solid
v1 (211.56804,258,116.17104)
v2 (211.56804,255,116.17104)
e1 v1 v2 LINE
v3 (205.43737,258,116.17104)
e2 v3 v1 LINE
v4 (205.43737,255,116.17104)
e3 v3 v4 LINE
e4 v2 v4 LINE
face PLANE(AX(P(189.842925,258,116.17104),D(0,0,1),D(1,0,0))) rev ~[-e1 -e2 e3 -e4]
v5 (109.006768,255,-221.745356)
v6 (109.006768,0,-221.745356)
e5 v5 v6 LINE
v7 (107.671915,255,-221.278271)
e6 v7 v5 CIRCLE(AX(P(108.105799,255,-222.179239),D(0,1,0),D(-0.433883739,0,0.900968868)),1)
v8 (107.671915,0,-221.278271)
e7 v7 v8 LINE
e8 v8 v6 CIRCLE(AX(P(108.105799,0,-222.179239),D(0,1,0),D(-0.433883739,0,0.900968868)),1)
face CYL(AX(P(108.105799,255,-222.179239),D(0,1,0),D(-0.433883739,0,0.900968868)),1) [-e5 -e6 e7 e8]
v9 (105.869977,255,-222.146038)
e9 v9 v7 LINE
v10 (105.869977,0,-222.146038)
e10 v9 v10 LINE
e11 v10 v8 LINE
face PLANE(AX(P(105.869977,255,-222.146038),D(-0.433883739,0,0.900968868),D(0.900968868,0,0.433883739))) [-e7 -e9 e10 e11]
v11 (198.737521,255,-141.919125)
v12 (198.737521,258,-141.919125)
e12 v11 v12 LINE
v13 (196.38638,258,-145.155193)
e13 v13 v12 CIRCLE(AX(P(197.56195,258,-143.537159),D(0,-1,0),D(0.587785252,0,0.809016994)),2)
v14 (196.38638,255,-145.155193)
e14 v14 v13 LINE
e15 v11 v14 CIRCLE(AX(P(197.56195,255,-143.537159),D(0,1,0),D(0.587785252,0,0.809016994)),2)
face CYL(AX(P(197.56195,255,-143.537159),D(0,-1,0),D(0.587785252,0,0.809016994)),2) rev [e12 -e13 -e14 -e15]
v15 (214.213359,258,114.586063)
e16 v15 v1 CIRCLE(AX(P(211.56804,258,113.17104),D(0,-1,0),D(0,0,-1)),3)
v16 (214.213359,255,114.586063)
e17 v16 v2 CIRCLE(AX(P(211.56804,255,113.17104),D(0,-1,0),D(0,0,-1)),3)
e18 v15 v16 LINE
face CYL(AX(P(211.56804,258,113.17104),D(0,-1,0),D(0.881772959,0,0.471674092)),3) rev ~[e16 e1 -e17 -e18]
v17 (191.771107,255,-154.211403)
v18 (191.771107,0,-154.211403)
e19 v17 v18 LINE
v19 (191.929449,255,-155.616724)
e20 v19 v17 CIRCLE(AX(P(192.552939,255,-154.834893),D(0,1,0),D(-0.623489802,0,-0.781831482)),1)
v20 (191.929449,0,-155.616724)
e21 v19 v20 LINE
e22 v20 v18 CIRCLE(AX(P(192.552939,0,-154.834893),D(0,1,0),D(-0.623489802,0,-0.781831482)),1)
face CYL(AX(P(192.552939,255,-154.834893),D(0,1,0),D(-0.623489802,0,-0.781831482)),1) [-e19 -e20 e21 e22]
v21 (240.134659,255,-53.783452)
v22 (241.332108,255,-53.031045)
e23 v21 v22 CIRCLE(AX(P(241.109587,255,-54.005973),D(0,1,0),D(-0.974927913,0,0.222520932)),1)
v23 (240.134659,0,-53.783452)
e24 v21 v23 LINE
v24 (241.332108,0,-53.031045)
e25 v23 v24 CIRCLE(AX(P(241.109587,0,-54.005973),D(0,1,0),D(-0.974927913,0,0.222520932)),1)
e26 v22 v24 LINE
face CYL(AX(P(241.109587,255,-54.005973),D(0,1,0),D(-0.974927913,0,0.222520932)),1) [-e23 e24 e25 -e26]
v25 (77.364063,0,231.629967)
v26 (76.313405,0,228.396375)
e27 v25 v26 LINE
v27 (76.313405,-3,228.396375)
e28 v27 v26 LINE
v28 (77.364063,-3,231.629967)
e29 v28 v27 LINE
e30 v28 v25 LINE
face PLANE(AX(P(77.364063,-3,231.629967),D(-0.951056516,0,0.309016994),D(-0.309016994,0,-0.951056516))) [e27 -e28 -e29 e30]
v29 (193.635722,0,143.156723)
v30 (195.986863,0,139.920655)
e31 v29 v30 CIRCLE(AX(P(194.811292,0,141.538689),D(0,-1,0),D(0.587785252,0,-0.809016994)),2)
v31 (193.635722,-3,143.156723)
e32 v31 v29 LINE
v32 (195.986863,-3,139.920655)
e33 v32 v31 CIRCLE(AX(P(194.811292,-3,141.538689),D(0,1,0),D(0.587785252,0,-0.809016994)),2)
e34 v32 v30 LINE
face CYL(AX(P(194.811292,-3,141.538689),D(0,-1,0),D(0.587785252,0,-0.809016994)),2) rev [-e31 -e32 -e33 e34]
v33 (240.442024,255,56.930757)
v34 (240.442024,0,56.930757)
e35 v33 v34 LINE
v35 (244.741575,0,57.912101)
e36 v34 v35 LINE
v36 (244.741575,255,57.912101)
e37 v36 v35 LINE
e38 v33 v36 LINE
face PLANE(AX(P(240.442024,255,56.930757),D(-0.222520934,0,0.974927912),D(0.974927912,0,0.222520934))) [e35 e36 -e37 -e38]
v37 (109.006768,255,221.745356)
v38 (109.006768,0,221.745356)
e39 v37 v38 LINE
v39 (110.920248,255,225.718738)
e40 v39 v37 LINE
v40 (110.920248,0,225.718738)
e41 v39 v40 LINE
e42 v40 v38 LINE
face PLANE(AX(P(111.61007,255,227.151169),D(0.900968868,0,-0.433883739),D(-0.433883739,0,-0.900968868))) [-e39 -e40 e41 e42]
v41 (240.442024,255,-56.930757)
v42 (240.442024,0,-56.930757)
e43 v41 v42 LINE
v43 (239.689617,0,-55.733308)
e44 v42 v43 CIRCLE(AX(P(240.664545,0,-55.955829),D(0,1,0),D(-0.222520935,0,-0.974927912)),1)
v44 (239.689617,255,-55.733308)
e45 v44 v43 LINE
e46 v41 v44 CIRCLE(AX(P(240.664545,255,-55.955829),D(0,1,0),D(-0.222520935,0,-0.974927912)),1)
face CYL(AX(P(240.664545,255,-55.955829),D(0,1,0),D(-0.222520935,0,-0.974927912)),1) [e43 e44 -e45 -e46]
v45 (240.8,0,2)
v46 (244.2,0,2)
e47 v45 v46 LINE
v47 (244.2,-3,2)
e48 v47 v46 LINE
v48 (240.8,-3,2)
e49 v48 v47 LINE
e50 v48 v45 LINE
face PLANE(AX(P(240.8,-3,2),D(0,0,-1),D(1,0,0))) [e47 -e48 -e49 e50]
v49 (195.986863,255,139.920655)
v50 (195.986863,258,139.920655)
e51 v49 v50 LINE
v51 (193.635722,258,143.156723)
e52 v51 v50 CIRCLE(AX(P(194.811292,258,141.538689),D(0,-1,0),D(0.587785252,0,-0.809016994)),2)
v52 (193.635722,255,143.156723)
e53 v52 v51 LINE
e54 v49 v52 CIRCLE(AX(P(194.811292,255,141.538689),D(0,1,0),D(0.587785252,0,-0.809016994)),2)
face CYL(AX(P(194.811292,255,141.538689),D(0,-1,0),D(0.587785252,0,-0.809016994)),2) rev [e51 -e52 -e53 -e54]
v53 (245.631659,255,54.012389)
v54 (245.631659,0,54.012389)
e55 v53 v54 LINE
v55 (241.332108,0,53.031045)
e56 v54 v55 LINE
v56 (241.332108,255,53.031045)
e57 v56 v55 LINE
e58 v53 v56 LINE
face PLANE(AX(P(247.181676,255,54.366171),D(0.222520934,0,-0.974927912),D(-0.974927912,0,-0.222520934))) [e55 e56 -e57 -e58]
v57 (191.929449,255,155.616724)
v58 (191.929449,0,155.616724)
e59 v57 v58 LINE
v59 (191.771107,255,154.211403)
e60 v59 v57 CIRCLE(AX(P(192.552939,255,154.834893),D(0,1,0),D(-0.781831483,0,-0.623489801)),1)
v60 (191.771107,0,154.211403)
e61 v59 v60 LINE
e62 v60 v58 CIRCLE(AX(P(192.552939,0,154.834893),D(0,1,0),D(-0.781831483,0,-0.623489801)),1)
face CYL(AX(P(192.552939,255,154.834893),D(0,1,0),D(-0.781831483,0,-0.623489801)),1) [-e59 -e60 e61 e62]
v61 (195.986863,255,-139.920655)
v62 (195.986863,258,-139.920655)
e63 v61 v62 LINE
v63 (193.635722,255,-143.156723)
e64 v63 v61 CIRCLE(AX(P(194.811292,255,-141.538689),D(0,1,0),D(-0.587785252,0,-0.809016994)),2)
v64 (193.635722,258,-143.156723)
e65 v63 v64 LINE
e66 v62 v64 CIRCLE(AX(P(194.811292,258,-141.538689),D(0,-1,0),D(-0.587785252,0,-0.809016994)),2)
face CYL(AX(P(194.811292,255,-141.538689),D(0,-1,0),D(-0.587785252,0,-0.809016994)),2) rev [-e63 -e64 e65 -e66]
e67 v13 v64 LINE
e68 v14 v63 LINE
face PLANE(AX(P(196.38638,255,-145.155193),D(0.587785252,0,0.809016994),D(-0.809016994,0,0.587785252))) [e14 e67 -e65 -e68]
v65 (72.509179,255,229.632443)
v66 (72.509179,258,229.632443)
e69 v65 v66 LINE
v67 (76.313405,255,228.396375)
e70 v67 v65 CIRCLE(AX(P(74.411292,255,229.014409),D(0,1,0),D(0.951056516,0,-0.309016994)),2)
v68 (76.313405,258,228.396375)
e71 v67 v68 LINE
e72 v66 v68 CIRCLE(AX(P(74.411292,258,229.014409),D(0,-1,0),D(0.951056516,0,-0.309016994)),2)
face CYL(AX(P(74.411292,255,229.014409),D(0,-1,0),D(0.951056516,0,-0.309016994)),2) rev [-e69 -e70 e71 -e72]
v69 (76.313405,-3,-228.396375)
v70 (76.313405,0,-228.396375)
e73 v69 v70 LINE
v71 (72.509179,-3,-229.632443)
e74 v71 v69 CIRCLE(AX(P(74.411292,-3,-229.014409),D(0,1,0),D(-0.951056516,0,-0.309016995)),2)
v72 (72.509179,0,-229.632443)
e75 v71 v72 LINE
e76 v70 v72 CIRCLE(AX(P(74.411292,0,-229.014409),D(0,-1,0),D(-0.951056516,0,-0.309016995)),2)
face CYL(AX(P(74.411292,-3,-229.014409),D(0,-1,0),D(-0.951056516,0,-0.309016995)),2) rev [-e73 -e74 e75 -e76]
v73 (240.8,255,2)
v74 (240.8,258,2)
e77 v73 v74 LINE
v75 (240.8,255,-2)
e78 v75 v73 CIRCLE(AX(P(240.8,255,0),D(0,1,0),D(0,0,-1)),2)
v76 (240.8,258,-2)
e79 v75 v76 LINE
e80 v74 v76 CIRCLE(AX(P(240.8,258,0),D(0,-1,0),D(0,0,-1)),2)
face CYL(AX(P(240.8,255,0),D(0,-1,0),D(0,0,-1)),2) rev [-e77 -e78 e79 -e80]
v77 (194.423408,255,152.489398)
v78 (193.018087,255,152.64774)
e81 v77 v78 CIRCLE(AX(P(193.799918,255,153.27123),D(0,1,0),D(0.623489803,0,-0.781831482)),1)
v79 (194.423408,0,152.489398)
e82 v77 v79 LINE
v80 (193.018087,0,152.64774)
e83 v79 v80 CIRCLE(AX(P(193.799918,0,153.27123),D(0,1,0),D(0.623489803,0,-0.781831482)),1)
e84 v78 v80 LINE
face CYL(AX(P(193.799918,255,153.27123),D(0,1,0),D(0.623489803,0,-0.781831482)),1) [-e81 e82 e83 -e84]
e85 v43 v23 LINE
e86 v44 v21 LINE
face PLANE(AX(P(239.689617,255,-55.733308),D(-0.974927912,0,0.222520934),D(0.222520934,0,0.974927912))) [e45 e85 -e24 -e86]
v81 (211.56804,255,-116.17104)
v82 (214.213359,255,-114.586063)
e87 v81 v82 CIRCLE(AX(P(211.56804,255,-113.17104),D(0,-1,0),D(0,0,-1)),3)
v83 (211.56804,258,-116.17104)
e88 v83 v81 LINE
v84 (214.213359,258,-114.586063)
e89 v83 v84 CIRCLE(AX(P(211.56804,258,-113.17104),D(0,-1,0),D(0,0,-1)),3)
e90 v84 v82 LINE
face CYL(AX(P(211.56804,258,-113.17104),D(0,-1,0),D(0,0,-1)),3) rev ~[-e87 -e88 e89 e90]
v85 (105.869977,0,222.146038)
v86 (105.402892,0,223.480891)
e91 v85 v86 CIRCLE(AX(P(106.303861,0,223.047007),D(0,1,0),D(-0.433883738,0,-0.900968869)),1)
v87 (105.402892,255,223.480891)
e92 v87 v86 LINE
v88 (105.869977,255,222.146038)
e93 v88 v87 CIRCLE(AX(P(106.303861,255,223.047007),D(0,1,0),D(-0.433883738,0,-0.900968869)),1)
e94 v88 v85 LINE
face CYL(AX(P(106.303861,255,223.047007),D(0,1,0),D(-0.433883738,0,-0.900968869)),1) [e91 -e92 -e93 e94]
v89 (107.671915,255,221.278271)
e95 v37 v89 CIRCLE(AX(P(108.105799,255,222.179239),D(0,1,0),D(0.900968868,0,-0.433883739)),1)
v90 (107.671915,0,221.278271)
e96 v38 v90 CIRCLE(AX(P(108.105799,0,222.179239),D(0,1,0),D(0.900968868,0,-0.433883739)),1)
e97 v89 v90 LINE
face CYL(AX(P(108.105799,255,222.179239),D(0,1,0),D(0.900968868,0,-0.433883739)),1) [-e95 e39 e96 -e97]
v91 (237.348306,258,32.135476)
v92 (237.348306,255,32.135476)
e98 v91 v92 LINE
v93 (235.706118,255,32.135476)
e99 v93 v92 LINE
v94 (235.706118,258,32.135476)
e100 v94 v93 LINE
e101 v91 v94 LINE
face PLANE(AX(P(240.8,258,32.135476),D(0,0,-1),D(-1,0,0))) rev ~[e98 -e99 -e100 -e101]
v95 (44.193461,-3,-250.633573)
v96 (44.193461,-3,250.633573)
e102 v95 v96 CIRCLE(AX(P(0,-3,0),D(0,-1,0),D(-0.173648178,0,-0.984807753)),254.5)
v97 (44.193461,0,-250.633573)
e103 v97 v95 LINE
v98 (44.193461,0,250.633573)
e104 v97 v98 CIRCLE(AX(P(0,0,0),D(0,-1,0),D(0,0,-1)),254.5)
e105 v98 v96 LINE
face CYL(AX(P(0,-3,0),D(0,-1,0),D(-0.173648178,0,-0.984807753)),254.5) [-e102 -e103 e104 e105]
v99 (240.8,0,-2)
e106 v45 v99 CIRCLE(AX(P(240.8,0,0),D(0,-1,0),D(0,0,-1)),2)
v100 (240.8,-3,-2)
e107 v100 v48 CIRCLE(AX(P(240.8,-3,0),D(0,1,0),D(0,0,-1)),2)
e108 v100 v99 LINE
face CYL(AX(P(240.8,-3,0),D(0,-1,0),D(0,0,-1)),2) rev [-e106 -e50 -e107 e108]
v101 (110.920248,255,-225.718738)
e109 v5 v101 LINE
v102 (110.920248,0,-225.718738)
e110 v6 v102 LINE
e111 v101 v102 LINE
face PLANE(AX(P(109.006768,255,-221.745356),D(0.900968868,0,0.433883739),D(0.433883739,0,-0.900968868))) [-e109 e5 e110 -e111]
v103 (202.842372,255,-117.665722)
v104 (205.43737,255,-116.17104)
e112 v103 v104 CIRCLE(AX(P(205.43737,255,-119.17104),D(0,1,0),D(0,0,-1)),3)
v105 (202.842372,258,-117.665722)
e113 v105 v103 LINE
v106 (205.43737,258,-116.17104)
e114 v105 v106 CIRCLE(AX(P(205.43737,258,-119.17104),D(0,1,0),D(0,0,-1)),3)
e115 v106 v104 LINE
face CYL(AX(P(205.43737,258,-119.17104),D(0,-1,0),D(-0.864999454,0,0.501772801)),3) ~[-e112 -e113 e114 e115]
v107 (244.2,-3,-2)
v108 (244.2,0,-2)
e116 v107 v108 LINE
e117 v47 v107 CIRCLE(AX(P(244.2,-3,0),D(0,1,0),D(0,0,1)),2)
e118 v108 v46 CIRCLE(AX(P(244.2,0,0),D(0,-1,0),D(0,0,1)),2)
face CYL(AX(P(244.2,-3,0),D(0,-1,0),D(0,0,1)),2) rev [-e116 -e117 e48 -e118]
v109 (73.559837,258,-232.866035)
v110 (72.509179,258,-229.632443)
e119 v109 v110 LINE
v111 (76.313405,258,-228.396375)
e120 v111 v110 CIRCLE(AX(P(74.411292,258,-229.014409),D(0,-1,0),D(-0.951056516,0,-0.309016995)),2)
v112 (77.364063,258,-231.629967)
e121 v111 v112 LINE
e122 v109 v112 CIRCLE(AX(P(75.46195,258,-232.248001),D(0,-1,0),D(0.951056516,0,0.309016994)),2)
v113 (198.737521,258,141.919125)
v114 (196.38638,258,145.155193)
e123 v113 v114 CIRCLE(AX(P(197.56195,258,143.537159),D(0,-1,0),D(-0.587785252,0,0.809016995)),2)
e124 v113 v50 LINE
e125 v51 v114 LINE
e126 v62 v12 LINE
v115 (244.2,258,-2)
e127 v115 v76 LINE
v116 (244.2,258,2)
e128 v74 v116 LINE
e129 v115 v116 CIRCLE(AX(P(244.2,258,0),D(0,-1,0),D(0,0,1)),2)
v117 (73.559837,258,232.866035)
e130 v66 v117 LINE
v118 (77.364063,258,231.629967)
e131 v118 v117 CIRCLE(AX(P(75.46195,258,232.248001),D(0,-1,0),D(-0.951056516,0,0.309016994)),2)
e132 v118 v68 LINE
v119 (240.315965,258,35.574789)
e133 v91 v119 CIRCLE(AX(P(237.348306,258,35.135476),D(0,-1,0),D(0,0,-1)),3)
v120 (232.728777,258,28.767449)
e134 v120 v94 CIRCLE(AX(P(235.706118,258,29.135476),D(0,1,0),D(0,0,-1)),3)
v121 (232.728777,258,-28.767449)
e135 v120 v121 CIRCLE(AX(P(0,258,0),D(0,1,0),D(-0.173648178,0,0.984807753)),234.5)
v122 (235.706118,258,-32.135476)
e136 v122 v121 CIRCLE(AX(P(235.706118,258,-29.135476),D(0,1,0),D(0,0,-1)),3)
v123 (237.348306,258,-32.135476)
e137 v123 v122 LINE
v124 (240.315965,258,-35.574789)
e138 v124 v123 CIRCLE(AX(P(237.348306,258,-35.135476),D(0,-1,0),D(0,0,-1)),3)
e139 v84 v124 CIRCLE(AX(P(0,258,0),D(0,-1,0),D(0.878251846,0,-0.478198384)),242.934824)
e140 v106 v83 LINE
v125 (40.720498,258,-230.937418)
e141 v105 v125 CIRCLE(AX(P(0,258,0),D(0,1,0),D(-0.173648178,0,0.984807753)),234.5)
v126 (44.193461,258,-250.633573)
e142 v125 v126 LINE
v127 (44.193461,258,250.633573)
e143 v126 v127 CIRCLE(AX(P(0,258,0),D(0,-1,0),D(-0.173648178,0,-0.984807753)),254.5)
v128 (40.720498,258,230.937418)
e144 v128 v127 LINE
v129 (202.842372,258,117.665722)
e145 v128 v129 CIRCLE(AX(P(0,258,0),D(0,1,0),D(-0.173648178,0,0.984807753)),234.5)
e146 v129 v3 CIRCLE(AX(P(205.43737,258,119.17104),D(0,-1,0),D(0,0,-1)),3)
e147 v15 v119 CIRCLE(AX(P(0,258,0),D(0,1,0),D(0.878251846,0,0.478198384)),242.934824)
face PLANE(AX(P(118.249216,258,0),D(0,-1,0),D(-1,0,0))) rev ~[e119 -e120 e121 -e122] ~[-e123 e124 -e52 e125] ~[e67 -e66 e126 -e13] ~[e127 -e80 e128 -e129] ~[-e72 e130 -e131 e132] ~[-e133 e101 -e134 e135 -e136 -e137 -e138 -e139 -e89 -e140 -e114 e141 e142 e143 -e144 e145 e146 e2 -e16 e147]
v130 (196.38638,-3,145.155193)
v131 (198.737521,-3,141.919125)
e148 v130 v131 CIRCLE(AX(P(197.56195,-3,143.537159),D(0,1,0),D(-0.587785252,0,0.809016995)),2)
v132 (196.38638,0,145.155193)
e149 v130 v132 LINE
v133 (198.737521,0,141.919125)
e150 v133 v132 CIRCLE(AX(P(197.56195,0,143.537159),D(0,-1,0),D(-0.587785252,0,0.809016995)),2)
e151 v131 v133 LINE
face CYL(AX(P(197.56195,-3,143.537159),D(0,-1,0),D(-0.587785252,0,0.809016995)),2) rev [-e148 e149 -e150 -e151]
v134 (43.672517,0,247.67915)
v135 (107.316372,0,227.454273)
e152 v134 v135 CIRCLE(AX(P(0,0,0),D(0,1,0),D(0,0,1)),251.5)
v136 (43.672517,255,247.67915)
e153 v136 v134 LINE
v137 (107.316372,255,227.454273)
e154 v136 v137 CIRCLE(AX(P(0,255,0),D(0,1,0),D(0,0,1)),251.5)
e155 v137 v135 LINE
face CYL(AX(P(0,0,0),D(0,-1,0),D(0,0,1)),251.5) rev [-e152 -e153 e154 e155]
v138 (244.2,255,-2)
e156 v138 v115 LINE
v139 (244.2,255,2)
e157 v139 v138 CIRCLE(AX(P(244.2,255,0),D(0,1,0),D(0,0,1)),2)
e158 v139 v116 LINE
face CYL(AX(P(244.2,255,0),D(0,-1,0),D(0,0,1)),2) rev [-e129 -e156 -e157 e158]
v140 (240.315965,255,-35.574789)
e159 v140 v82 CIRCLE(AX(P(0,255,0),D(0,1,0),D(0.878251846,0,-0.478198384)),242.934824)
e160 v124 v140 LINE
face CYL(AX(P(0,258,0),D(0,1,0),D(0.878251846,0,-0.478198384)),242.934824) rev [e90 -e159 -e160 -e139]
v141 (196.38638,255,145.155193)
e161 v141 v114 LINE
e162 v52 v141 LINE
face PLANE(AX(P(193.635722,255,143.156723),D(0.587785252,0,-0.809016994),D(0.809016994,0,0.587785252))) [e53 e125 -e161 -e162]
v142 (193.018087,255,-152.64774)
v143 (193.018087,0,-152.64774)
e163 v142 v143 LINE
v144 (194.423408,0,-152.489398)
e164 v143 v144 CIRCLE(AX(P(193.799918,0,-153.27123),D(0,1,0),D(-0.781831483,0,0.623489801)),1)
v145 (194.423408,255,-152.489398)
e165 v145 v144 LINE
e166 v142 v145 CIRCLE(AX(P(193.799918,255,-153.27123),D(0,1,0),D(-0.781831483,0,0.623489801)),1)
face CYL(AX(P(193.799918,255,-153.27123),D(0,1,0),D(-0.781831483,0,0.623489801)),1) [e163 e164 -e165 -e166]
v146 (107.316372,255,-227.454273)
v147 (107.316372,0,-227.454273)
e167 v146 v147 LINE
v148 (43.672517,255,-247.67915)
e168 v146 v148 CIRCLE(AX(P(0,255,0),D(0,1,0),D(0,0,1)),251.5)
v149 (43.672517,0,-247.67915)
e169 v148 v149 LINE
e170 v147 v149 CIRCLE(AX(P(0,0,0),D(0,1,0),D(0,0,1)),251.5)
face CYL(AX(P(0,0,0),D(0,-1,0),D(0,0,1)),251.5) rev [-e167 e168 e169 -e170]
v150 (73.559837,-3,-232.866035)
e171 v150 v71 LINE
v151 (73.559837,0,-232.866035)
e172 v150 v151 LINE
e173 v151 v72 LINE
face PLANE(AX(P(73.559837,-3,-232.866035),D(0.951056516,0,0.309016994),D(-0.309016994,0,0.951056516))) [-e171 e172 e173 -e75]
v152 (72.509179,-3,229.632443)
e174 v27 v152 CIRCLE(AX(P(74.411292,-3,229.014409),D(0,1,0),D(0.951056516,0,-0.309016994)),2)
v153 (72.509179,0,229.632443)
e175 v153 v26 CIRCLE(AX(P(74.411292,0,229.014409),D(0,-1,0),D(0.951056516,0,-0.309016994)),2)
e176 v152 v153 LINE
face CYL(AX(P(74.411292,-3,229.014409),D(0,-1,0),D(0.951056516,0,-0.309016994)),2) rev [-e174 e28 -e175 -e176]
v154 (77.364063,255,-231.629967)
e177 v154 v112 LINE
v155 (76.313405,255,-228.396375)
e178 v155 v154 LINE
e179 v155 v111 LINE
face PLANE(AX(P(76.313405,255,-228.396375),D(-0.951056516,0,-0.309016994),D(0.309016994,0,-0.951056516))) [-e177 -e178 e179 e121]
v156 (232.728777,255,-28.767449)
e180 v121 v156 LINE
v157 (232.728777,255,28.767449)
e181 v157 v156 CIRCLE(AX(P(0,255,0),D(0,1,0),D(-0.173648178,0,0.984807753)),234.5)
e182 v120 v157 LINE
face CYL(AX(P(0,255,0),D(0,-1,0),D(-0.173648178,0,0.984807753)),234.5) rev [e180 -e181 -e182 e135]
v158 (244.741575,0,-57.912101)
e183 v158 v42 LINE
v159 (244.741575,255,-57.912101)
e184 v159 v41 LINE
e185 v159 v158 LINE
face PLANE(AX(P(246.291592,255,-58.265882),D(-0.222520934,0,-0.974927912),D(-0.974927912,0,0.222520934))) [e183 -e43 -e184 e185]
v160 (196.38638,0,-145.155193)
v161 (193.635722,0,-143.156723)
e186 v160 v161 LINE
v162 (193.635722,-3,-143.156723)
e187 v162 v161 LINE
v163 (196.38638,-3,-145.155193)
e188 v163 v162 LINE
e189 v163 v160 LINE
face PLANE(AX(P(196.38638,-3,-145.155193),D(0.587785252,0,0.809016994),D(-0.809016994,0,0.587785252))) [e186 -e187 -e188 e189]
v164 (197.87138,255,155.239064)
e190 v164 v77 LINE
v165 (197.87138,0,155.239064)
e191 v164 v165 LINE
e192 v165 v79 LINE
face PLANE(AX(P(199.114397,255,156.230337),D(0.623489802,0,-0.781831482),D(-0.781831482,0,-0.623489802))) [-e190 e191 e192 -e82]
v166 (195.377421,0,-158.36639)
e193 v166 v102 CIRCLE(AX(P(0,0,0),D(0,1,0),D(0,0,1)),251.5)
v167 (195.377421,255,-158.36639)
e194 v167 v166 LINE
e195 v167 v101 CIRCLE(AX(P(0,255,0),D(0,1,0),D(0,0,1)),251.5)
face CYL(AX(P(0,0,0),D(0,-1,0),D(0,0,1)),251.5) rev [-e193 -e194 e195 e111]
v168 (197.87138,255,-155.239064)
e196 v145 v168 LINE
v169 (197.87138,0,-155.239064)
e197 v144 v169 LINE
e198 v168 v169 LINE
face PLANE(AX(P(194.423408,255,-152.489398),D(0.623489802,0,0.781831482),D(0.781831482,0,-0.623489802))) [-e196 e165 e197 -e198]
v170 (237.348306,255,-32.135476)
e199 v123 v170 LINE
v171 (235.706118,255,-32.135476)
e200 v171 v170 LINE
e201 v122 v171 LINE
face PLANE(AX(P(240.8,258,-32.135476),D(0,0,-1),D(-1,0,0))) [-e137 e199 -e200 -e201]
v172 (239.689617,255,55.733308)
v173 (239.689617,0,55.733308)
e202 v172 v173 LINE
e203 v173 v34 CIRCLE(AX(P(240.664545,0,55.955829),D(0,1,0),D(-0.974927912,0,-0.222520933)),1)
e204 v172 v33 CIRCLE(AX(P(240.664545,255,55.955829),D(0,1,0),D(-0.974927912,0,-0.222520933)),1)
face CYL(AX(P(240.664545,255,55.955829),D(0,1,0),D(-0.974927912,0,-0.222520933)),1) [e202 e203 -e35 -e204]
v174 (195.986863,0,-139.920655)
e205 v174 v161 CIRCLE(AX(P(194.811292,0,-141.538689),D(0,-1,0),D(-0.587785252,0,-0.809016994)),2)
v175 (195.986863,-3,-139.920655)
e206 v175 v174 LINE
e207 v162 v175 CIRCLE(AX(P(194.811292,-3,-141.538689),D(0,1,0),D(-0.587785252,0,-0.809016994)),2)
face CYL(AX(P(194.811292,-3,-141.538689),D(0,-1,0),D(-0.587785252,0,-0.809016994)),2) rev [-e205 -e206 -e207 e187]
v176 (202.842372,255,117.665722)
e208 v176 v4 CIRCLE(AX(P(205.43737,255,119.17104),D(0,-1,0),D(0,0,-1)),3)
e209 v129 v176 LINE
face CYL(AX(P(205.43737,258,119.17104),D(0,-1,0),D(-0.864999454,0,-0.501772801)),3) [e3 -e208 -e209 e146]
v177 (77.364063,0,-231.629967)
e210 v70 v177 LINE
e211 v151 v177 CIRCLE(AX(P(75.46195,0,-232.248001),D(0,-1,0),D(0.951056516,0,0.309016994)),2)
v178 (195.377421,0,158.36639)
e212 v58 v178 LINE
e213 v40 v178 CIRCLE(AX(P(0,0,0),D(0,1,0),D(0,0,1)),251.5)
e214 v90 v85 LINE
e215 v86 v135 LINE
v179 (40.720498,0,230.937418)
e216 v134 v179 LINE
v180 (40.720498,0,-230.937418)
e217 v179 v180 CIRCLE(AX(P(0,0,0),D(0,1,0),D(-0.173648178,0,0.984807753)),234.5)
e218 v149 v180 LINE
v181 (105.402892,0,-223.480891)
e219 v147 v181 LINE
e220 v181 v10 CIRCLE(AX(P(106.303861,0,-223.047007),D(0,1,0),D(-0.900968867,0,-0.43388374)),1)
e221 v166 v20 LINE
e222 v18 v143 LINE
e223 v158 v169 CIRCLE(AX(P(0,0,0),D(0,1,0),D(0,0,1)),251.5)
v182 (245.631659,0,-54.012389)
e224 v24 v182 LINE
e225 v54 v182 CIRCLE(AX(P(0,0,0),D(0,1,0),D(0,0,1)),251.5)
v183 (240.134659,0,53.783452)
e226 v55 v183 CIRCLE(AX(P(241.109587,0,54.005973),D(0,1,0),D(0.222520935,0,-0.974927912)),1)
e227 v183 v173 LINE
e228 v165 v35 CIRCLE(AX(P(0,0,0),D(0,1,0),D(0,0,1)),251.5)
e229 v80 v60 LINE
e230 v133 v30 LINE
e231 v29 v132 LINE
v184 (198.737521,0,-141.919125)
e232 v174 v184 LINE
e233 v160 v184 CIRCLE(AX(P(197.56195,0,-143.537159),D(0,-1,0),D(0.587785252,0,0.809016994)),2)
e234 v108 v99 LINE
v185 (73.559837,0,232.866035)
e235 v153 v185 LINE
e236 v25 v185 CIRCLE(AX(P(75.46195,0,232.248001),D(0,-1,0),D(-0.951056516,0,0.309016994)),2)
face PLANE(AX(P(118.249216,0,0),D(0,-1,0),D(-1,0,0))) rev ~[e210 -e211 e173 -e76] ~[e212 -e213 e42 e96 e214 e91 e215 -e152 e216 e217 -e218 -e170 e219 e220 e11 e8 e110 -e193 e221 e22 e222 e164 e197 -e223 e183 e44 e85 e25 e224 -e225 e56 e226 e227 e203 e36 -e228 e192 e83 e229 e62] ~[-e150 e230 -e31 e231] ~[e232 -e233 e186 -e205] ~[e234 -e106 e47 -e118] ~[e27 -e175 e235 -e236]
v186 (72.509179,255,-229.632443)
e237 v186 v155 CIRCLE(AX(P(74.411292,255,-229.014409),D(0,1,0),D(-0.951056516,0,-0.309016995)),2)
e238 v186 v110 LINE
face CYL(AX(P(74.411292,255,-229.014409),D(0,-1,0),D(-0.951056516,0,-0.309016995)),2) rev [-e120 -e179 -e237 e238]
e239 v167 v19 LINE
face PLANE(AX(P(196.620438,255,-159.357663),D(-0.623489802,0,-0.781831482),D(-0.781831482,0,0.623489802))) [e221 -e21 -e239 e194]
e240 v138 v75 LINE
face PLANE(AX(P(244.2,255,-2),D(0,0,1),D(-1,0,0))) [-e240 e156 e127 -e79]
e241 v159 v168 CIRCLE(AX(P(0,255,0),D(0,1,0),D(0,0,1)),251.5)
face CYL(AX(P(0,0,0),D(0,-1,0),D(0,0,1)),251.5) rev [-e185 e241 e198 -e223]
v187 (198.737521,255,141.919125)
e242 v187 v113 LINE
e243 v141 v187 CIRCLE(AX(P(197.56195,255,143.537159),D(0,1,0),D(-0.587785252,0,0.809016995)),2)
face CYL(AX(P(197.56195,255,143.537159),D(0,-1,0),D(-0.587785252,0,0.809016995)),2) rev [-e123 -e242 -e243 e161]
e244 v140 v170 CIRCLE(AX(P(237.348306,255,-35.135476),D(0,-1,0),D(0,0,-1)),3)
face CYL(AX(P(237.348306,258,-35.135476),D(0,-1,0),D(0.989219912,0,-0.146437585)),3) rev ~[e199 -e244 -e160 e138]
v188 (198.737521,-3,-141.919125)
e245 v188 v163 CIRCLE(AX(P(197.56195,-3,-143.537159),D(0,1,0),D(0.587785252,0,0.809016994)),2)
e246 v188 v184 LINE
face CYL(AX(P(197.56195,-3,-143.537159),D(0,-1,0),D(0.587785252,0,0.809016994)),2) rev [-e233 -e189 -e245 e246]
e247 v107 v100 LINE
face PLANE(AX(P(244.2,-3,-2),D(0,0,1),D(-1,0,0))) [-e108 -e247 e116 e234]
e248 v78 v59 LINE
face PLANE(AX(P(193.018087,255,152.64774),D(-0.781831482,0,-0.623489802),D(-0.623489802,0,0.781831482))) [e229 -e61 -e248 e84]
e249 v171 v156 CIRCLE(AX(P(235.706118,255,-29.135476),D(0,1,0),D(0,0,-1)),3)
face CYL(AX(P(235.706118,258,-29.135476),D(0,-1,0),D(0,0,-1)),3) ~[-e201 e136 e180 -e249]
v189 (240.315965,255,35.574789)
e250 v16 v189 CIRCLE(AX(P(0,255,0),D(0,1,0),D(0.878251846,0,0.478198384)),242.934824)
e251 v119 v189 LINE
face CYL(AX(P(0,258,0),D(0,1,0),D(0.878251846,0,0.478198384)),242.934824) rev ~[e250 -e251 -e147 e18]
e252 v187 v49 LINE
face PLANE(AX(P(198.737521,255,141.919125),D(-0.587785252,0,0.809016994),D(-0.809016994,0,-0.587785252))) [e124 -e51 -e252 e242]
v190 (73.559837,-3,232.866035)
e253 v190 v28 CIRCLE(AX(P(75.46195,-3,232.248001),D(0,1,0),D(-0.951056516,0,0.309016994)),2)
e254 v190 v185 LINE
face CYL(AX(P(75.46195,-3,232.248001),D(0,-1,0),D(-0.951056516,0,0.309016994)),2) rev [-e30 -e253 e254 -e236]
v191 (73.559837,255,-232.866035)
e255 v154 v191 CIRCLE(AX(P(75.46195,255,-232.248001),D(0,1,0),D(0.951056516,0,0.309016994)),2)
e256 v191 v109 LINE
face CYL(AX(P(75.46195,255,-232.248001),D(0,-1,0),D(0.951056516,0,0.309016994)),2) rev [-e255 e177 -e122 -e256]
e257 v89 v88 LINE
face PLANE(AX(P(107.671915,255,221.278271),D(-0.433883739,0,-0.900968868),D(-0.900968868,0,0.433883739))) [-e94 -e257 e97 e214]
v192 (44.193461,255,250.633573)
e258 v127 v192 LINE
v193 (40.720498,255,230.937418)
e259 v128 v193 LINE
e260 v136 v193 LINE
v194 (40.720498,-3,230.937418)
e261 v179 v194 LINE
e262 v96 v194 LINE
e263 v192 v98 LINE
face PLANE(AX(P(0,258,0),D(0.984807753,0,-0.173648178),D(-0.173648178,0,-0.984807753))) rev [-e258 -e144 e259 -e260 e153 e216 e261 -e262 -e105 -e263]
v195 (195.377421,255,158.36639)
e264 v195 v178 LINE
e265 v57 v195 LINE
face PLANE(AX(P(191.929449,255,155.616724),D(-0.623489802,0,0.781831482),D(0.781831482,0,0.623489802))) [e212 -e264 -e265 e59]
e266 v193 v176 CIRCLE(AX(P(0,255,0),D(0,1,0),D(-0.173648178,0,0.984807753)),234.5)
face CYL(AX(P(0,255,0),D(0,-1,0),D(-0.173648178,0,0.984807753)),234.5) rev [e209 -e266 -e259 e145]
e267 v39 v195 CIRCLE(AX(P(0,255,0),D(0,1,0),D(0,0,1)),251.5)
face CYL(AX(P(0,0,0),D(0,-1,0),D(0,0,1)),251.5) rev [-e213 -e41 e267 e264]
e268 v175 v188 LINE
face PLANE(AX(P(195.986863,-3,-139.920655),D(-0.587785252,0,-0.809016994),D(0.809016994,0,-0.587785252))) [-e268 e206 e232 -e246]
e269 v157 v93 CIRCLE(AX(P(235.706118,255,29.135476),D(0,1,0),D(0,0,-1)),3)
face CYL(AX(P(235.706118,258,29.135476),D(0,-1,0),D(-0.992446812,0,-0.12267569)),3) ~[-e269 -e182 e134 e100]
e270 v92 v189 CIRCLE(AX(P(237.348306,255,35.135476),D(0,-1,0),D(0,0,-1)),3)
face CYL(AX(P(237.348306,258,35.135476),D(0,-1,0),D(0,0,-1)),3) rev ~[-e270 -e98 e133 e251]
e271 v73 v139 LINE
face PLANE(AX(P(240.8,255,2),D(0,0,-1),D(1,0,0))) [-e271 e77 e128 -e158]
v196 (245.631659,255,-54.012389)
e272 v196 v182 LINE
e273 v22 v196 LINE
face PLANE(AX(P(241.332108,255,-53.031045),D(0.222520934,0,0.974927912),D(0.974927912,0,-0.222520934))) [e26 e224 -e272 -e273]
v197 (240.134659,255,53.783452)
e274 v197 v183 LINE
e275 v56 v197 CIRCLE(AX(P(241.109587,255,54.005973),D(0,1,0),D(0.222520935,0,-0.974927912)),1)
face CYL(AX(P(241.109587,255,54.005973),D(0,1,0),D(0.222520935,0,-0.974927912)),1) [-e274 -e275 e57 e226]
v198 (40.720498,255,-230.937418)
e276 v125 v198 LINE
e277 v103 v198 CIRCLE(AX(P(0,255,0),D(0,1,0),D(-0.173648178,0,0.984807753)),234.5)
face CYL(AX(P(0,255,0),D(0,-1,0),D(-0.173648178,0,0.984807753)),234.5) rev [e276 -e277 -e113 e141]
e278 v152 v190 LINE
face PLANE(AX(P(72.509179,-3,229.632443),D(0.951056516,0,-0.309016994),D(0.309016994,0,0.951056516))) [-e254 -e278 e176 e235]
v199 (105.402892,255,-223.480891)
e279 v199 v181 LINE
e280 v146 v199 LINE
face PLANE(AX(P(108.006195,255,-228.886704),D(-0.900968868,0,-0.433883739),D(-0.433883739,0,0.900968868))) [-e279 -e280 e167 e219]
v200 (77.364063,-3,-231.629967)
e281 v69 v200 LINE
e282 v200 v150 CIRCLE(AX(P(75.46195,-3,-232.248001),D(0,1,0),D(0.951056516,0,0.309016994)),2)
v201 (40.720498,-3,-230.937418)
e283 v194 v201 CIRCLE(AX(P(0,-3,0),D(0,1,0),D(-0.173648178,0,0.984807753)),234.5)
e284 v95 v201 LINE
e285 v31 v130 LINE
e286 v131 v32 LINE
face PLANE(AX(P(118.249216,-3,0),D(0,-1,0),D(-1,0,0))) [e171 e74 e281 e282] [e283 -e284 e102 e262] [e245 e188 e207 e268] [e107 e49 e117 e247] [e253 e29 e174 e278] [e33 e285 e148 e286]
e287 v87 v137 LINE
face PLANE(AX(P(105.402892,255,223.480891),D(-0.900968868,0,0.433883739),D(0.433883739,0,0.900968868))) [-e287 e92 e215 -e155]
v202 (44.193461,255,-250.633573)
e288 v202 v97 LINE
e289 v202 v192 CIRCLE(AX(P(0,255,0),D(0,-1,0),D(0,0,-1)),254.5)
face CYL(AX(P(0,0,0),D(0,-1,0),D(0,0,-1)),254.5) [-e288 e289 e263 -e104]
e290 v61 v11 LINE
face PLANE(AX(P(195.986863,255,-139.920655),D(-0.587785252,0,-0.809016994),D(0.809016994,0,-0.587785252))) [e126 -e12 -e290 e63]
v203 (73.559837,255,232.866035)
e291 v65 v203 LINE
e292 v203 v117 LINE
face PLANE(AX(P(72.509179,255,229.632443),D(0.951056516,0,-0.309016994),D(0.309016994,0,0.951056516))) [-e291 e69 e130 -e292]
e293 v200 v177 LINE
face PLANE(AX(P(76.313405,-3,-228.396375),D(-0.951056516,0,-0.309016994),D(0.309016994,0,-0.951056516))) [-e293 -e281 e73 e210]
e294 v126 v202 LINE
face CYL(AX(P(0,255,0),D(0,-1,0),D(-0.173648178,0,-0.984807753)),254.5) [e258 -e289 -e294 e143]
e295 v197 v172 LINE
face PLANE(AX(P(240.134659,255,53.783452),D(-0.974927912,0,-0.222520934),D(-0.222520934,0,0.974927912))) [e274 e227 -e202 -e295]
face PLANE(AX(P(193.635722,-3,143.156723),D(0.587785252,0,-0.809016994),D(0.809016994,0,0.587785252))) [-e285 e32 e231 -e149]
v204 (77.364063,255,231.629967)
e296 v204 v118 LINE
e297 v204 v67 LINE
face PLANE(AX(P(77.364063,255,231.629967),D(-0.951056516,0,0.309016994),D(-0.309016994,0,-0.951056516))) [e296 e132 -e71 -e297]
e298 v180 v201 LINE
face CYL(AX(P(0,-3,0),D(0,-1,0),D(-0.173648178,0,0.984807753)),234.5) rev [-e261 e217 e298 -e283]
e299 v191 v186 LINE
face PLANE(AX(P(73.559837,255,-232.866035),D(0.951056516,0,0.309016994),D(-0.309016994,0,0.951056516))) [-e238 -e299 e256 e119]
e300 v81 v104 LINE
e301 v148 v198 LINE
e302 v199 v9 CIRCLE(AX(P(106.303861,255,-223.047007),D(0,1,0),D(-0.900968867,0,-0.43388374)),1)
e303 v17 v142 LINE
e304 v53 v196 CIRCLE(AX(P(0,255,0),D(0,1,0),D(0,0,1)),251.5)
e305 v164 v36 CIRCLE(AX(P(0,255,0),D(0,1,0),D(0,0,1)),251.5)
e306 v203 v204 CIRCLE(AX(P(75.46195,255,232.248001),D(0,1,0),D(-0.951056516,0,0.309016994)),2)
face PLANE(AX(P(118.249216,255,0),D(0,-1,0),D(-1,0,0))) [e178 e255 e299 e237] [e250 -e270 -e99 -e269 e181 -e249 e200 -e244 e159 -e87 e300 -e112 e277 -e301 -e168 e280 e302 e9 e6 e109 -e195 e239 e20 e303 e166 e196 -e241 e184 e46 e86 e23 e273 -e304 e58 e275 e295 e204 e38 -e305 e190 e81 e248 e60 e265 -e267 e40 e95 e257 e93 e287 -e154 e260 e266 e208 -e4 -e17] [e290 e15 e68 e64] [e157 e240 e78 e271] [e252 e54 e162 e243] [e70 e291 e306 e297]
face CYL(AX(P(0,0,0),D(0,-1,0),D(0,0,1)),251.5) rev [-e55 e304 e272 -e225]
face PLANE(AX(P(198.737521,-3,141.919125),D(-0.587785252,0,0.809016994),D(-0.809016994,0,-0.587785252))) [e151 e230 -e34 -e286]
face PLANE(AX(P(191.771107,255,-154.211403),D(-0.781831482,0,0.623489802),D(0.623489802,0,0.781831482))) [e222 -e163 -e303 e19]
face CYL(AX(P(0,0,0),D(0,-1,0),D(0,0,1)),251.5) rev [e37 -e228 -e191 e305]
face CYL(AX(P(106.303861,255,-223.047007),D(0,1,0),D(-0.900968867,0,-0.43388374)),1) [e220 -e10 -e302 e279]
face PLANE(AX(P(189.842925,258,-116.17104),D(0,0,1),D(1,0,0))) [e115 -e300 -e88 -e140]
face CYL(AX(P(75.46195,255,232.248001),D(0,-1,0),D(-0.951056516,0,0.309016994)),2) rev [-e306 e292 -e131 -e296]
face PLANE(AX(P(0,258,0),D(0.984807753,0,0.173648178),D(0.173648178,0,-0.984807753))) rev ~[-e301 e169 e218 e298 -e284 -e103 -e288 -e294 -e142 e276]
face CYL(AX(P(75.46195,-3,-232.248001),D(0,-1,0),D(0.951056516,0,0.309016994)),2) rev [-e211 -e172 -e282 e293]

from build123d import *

# Parameters (mm, degrees)
BOSS_EXTRUDE1_DEPTH   = 255
BOSS_EXTRUDE2_DEPTH   = 255
BOSS_EXTRUDE2_2_DEPTH = 255
BOSS_EXTRUDE2_3_DEPTH = 255
BOSS_EXTRUDE2_4_DEPTH = 255
BOSS_EXTRUDE2_5_DEPTH = 255
BOSS_EXTRUDE2_6_DEPTH = 255
BOSS_EXTRUDE2_7_DEPTH = 255
BOSS_EXTRUDE2_8_DEPTH = 255
BOSS_EXTRUDE3_DEPTH   = 3
CUT_EXTRUDE3_DEPTH    = 5
LPATTERN1_COUNT       = 2
LPATTERN1_PITCH       = 258
LPATTERN2_COUNT       = 2
LPATTERN2_PITCH       = 258
CUT_EXTRUDE7_DEPTH    = 324
CUT_EXTRUDE10_DEPTH   = 5
FILLET2_R             = 3


with BuildPart() as part:
    # Sketch3 → Boss-Extrude1 (new body)
    with BuildSketch(Plane(origin=(0, 0, 0), x_dir=(1, 0, 0), z_dir=(0, 1, 0))):
        with BuildLine():
            ThreePointArc((0, -254.5), (-22.181136529, -253.531550664), (-44.193461216, -250.633573142))
            Line((-44.193461216, -250.633573142), (-43.672516683, -247.679149883))
            ThreePointArc((-43.672516683, -247.679149883), (-21.919669301, -250.54296657), (0, -251.5))
            ThreePointArc((0, -251.5), (251.5, 0), (0, 251.5))
            ThreePointArc((0, 251.5), (-21.919669301, 250.54296657), (-43.672516683, 247.679149883))
            Line((-43.672516683, 247.679149883), (-44.193461216, 250.633573142))
            ThreePointArc((-44.193461216, 250.633573142), (-22.181136529, 253.531550664), (0, 254.5))
            ThreePointArc((0, 254.5), (254.5, 0), (0, -254.5))
        make_face()
    extrude(amount=BOSS_EXTRUDE1_DEPTH)


with BuildPart() as body_2:
    # Sketch6 → Boss-Extrude2 (new body)
    with BuildSketch(Plane(origin=(0, 255, 0), x_dir=(1, 0, 0), z_dir=(0, 1, 0))):
        with BuildLine():
            Line((-2, -253.081926056), (2, -253.081926056))
            Line((2, -253.081926056), (2, -247.081926056))
            ThreePointArc((2, -247.081926056), (1.707106781, -246.374819275), (1, -246.081926056))
            Line((1, -246.081926056), (-1, -246.081926056))
            ThreePointArc((-1, -246.081926056), (-1.707106781, -246.374819275), (-2, -247.081926056))
            Line((-2, -247.081926056), (-2, -253.081926056))
        make_face()
    extrude(amount=-BOSS_EXTRUDE2_DEPTH)


with BuildPart() as body_3:
    # Sketch6 → Boss-Extrude2 2 (new body)
    with BuildSketch(Plane(origin=(0, 255, 0), x_dir=(1, 0, 0), z_dir=(0, 1, 0))):
        with BuildLine():
            Line((-1, 246.081926056), (1, 246.081926056))
            ThreePointArc((1, 246.081926056), (1.707106781, 246.374819275), (2, 247.081926056))
            Line((2, 247.081926056), (2, 253.081926056))
            Line((2, 253.081926056), (-2, 253.081926056))
            Line((-2, 253.081926056), (-2, 247.081926056))
            ThreePointArc((-2, 247.081926056), (-1.707106781, 246.374819275), (-1, 246.081926056))
        make_face()
    extrude(amount=-BOSS_EXTRUDE2_2_DEPTH)


with BuildPart() as body_4:
    # Sketch6 → Boss-Extrude2 3 (new body)
    with BuildSketch(Plane(origin=(0, 255, 0), x_dir=(1, 0, 0), z_dir=(0, 1, 0))):
        with BuildLine():
            Line((111.610070116, 227.151168927), (108.006194645, 228.886703884))
            Line((108.006194645, 228.886703884), (105.40289221, 223.480890676))
            ThreePointArc((105.40289221, 223.480890676), (105.359977747, 222.716727875), (105.869977339, 222.146038069))
            Line((105.869977339, 222.146038069), (107.671915074, 221.278270591))
            ThreePointArc((107.671915074, 221.278270591), (108.436077876, 221.235356129), (109.006767681, 221.74535572))
            Line((109.006767681, 221.74535572), (111.610070116, 227.151168927))
        make_face()
    extrude(amount=-BOSS_EXTRUDE2_3_DEPTH)


with BuildPart() as body_5:
    # Sketch6 → Boss-Extrude2 4 (new body)
    with BuildSketch(Plane(origin=(0, 255, 0), x_dir=(1, 0, 0), z_dir=(0, 1, 0))):
        with BuildLine():
            Line((199.114397038, 156.230336966), (196.620437831, 159.357662896))
            Line((196.620437831, 159.357662896), (191.929448936, 155.616724085))
            ThreePointArc((191.929448936, 155.616724085), (191.559226528, 154.946857078), (191.771107255, 154.2114028))
            Line((191.771107255, 154.2114028), (193.018086859, 152.647739835))
            ThreePointArc((193.018086859, 152.647739835), (193.687953865, 152.277517427), (194.423408143, 152.489398155))
            Line((194.423408143, 152.489398155), (199.114397038, 156.230336966))
        make_face()
    extrude(amount=-BOSS_EXTRUDE2_4_DEPTH)


with BuildPart() as body_6:
    # Sketch6 → Boss-Extrude2 5 (new body)
    with BuildSketch(Plane(origin=(0, 255, 0), x_dir=(1, 0, 0), z_dir=(0, 1, 0))):
        with BuildLine():
            Line((247.181675649, 54.366170729), (246.291591913, 58.265882378))
            Line((246.291591913, 58.265882378), (240.44202444, 56.930756774))
            ThreePointArc((240.44202444, 56.930756774), (239.817821175, 56.487860938), (239.689617462, 55.733307928))
            Line((239.689617462, 55.733307928), (240.13465933, 53.783452104))
            ThreePointArc((240.13465933, 53.783452104), (240.577555165, 53.159248838), (241.332108176, 53.031045125))
            Line((241.332108176, 53.031045125), (247.181675649, 54.366170729))
        make_face()
    extrude(amount=-BOSS_EXTRUDE2_5_DEPTH)


with BuildPart() as body_7:
    # Sketch6 → Boss-Extrude2 6 (new body)
    with BuildSketch(Plane(origin=(0, 255, 0), x_dir=(1, 0, 0), z_dir=(0, 1, 0))):
        with BuildLine():
            Line((246.291591913, -58.265882378), (247.181675649, -54.366170729))
            Line((247.181675649, -54.366170729), (241.332108176, -53.031045125))
            ThreePointArc((241.332108176, -53.031045125), (240.577555165, -53.159248838), (240.13465933, -53.783452104))
            Line((240.13465933, -53.783452104), (239.689617462, -55.733307928))
            ThreePointArc((239.689617462, -55.733307928), (239.817821175, -56.487860938), (240.44202444, -56.930756774))
            Line((240.44202444, -56.930756774), (246.291591913, -58.265882378))
        make_face()
    extrude(amount=-BOSS_EXTRUDE2_6_DEPTH)


with BuildPart() as body_8:
    # Sketch6 → Boss-Extrude2 7 (new body)
    with BuildSketch(Plane(origin=(0, 255, 0), x_dir=(1, 0, 0), z_dir=(0, 1, 0))):
        with BuildLine():
            Line((196.620437831, -159.357662896), (199.114397038, -156.230336966))
            Line((199.114397038, -156.230336966), (194.423408143, -152.489398155))
            ThreePointArc((194.423408143, -152.489398155), (193.687953865, -152.277517427), (193.018086859, -152.647739835))
            Line((193.018086859, -152.647739835), (191.771107255, -154.2114028))
            ThreePointArc((191.771107255, -154.2114028), (191.559226528, -154.946857078), (191.929448936, -155.616724085))
            Line((191.929448936, -155.616724085), (196.620437831, -159.357662896))
        make_face()
    extrude(amount=-BOSS_EXTRUDE2_7_DEPTH)


with BuildPart() as body_9:
    # Sketch6 → Boss-Extrude2 8 (new body)
    with BuildSketch(Plane(origin=(0, 255, 0), x_dir=(1, 0, 0), z_dir=(0, 1, 0))):
        with BuildLine():
            Line((108.006194645, -228.886703884), (111.610070116, -227.151168927))
            Line((111.610070116, -227.151168927), (109.006767681, -221.74535572))
            ThreePointArc((109.006767681, -221.74535572), (108.436077876, -221.235356129), (107.671915074, -221.278270591))
            Line((107.671915074, -221.278270591), (105.869977339, -222.146038069))
            ThreePointArc((105.869977339, -222.146038069), (105.359977747, -222.716727875), (105.40289221, -223.480890676))
            Line((105.40289221, -223.480890676), (108.006194645, -228.886703884))
        make_face()
    extrude(amount=-BOSS_EXTRUDE2_8_DEPTH)


with BuildPart() as body_3_1:
    add(body_3.part)

    # Combine2: union part, body 4, body 5, body 6, body 7, body 8, body 9, body 2
    add(part.part)
    add(body_4.part)
    add(body_5.part)
    add(body_6.part)
    add(body_7.part)
    add(body_8.part)
    add(body_9.part)
    add(body_2.part)

    # Sketch7 → Boss-Extrude3 (add)
    with BuildSketch(Plane(origin=(0, 255, 0), x_dir=(1, 0, 0), z_dir=(0, 1, 0))):
        with BuildLine():
            ThreePointArc((-44.193461216, 250.633573142), (254.5, 0), (-44.193461216, -250.633573142))
            Line((-44.193461216, -250.633573142), (-40.720497663, -230.937418081))
            ThreePointArc((-40.720497663, -230.937418081), (234.5, 0), (-40.720497663, 230.937418081))
            Line((-40.720497663, 230.937418081), (-44.193461216, 250.633573142))
        make_face()
    boss_extrude3 = extrude(amount=BOSS_EXTRUDE3_DEPTH)

    # Sketch8 → Cut-Extrude3 (cut)
    with BuildSketch(Plane.XZ.offset(-255)):
        with BuildLine():
            Line((240.8, 2), (244.2, 2))
            ThreePointArc((244.2, 2), (246.2, 0), (244.2, -2))
            Line((244.2, -2), (240.8, -2))
            ThreePointArc((240.8, -2), (238.8, 0), (240.8, 2))
        make_face()
        with BuildLine():
            Line((195.98686275, -139.920654763), (198.737520531, -141.919124621))
            ThreePointArc((198.737520531, -141.919124621), (199.179984015, -144.712729114), (196.386379522, -145.155192599))
            Line((196.386379522, -145.155192599), (193.635721741, -143.156722741))
            ThreePointArc((193.635721741, -143.156722741), (193.193258257, -140.363118247), (195.98686275, -139.920654763))
        make_face()
        with BuildLine():
            Line((76.313405278, -228.396375135), (77.364063059, -231.629967291))
            ThreePointArc((77.364063059, -231.629967291), (76.079984015, -234.150114312), (73.559836994, -232.866035268))
            Line((73.559836994, -232.866035268), (72.509179213, -229.632443113))
            ThreePointArc((72.509179213, -229.632443113), (73.793258257, -227.112296091), (76.313405278, -228.396375135))
        make_face()
        with BuildLine():
            Line((-72.509179213, -229.632443113), (-73.559836994, -232.866035268))
            ThreePointArc((-73.559836994, -232.866035268), (-76.079984015, -234.150114312), (-77.364063059, -231.629967291))
            Line((-77.364063059, -231.629967291), (-76.313405278, -228.396375135))
            ThreePointArc((-76.313405278, -228.396375135), (-73.793258257, -227.112296091), (-72.509179213, -229.632443113))
        make_face()
        with BuildLine():
            Line((-193.635721741, -143.156722741), (-196.386379522, -145.155192599))
            ThreePointArc((-196.386379522, -145.155192599), (-199.179984015, -144.712729114), (-198.737520531, -141.919124621))
            Line((-198.737520531, -141.919124621), (-195.98686275, -139.920654763))
            ThreePointArc((-195.98686275, -139.920654763), (-193.193258257, -140.363118247), (-193.635721741, -143.156722741))
        make_face()
        with BuildLine():
            Line((-240.8, -2), (-244.2, -2))
            ThreePointArc((-244.2, -2), (-246.2, 0), (-244.2, 2))
            Line((-244.2, 2), (-240.8, 2))
            ThreePointArc((-240.8, 2), (-238.8, 0), (-240.8, -2))
        make_face()
        with BuildLine():
            Line((-195.98686275, 139.920654763), (-198.737520531, 141.919124621))
            ThreePointArc((-198.737520531, 141.919124621), (-199.179984015, 144.712729114), (-196.386379522, 145.155192599))
            Line((-196.386379522, 145.155192599), (-193.635721741, 143.156722741))
            ThreePointArc((-193.635721741, 143.156722741), (-193.193258257, 140.363118247), (-195.98686275, 139.920654763))
        make_face()
        with BuildLine():
            Line((-76.313405278, 228.396375135), (-77.364063059, 231.629967291))
            ThreePointArc((-77.364063059, 231.629967291), (-76.079984015, 234.150114312), (-73.559836994, 232.866035268))
            Line((-73.559836994, 232.866035268), (-72.509179213, 229.632443113))
            ThreePointArc((-72.509179213, 229.632443113), (-73.793258257, 227.112296091), (-76.313405278, 228.396375135))
        make_face()
        with BuildLine():
            Line((72.509179213, 229.632443113), (73.559836994, 232.866035268))
            ThreePointArc((73.559836994, 232.866035268), (76.079984015, 234.150114312), (77.364063059, 231.629967291))
            Line((77.364063059, 231.629967291), (76.313405278, 228.396375135))
            ThreePointArc((76.313405278, 228.396375135), (73.793258257, 227.112296091), (72.509179213, 229.632443113))
        make_face()
        with BuildLine():
            Line((193.635721741, 143.156722741), (196.386379522, 145.155192599))
            ThreePointArc((196.386379522, 145.155192599), (199.179984015, 144.712729114), (198.737520531, 141.919124621))
            Line((198.737520531, 141.919124621), (195.98686275, 139.920654763))
            ThreePointArc((195.98686275, 139.920654763), (193.193258257, 140.363118247), (193.635721741, 143.156722741))
        make_face()
    cut_extrude3 = extrude(amount=-CUT_EXTRUDE3_DEPTH, mode=Mode.SUBTRACT)

    # LPattern1: Boss-Extrude3 ×2
    with Locations(*[(0, -i * LPATTERN1_PITCH, 0) for i in range(1, LPATTERN1_COUNT)]):
        add(boss_extrude3)

    # LPattern2: Cut-Extrude3 ×2
    with Locations(*[(0, -i * LPATTERN2_PITCH, 0) for i in range(1, LPATTERN2_COUNT)]):
        add(cut_extrude3, mode=Mode.SUBTRACT)

    # Sketch11 → Cut-Extrude7 (cut)
    with BuildSketch(Plane(origin=(0, 258, 0), x_dir=(1, 0, 0), z_dir=(0, 1, 0))):
        with BuildLine():
            Line((-44.193461216, 250.633573142), (0, 0))
            Line((0, 0), (44.193461216, 250.633573142))
            ThreePointArc((44.193461216, 250.633573142), (0, 254.5), (-44.193461216, 250.633573142))
        make_face()
    cut_extrude7 = extrude(amount=-CUT_EXTRUDE7_DEPTH, mode=Mode.SUBTRACT)

    # Mirror1: Cut-Extrude7 across plane
    add(cut_extrude7.mirror(Plane.XY), mode=Mode.SUBTRACT)

    # Sketch13 → Cut-Extrude10 (cut)
    with BuildSketch(Plane(origin=(0, 258, 0), x_dir=(1, 0, 0), z_dir=(0, 1, 0))):
        with BuildLine():
            Line((240.8, 32.135476301), (189.842924972, 32.135476301))
            Line((189.842924972, 32.135476301), (189.842924972, 116.171040312))
            Line((189.842924972, 116.171040312), (213.357957972, 116.171040312))
            ThreePointArc((213.357957972, 116.171040312), (230.93366299, 75.412015854), (240.8, 32.135476301))
        make_face()
        with BuildLine():
            Line((189.842924972, -116.171040312), (213.357957972, -116.171040312))
            ThreePointArc((213.357957972, -116.171040312), (230.93366299, -75.412015854), (240.8, -32.135476301))
            Line((240.8, -32.135476301), (189.842924972, -32.135476301))
            Line((189.842924972, -32.135476301), (189.842924972, -116.171040312))
        make_face()
    extrude(amount=-CUT_EXTRUDE10_DEPTH, mode=Mode.SUBTRACT)

    # Fillet2
    fillet2_edges = [body_3_1.edges().sort_by_distance(p)[0] for p in [
        (213.357957972, 256.5, -116.171040312),
        (232.287668986, 256.5, -32.135476301),
        (240.8, 256.5, -32.135476301),
        (203.702084901, 256.5, -116.171040312),
        (240.8, 256.5, 32.135476301),
        (203.702084901, 256.5, 116.171040312),
        (213.357957972, 256.5, 116.171040312),
        (232.287668986, 256.5, 32.135476301),
    ]]
    fillet(fillet2_edges, radius=FILLET2_R)


solid = body_3_1.part
